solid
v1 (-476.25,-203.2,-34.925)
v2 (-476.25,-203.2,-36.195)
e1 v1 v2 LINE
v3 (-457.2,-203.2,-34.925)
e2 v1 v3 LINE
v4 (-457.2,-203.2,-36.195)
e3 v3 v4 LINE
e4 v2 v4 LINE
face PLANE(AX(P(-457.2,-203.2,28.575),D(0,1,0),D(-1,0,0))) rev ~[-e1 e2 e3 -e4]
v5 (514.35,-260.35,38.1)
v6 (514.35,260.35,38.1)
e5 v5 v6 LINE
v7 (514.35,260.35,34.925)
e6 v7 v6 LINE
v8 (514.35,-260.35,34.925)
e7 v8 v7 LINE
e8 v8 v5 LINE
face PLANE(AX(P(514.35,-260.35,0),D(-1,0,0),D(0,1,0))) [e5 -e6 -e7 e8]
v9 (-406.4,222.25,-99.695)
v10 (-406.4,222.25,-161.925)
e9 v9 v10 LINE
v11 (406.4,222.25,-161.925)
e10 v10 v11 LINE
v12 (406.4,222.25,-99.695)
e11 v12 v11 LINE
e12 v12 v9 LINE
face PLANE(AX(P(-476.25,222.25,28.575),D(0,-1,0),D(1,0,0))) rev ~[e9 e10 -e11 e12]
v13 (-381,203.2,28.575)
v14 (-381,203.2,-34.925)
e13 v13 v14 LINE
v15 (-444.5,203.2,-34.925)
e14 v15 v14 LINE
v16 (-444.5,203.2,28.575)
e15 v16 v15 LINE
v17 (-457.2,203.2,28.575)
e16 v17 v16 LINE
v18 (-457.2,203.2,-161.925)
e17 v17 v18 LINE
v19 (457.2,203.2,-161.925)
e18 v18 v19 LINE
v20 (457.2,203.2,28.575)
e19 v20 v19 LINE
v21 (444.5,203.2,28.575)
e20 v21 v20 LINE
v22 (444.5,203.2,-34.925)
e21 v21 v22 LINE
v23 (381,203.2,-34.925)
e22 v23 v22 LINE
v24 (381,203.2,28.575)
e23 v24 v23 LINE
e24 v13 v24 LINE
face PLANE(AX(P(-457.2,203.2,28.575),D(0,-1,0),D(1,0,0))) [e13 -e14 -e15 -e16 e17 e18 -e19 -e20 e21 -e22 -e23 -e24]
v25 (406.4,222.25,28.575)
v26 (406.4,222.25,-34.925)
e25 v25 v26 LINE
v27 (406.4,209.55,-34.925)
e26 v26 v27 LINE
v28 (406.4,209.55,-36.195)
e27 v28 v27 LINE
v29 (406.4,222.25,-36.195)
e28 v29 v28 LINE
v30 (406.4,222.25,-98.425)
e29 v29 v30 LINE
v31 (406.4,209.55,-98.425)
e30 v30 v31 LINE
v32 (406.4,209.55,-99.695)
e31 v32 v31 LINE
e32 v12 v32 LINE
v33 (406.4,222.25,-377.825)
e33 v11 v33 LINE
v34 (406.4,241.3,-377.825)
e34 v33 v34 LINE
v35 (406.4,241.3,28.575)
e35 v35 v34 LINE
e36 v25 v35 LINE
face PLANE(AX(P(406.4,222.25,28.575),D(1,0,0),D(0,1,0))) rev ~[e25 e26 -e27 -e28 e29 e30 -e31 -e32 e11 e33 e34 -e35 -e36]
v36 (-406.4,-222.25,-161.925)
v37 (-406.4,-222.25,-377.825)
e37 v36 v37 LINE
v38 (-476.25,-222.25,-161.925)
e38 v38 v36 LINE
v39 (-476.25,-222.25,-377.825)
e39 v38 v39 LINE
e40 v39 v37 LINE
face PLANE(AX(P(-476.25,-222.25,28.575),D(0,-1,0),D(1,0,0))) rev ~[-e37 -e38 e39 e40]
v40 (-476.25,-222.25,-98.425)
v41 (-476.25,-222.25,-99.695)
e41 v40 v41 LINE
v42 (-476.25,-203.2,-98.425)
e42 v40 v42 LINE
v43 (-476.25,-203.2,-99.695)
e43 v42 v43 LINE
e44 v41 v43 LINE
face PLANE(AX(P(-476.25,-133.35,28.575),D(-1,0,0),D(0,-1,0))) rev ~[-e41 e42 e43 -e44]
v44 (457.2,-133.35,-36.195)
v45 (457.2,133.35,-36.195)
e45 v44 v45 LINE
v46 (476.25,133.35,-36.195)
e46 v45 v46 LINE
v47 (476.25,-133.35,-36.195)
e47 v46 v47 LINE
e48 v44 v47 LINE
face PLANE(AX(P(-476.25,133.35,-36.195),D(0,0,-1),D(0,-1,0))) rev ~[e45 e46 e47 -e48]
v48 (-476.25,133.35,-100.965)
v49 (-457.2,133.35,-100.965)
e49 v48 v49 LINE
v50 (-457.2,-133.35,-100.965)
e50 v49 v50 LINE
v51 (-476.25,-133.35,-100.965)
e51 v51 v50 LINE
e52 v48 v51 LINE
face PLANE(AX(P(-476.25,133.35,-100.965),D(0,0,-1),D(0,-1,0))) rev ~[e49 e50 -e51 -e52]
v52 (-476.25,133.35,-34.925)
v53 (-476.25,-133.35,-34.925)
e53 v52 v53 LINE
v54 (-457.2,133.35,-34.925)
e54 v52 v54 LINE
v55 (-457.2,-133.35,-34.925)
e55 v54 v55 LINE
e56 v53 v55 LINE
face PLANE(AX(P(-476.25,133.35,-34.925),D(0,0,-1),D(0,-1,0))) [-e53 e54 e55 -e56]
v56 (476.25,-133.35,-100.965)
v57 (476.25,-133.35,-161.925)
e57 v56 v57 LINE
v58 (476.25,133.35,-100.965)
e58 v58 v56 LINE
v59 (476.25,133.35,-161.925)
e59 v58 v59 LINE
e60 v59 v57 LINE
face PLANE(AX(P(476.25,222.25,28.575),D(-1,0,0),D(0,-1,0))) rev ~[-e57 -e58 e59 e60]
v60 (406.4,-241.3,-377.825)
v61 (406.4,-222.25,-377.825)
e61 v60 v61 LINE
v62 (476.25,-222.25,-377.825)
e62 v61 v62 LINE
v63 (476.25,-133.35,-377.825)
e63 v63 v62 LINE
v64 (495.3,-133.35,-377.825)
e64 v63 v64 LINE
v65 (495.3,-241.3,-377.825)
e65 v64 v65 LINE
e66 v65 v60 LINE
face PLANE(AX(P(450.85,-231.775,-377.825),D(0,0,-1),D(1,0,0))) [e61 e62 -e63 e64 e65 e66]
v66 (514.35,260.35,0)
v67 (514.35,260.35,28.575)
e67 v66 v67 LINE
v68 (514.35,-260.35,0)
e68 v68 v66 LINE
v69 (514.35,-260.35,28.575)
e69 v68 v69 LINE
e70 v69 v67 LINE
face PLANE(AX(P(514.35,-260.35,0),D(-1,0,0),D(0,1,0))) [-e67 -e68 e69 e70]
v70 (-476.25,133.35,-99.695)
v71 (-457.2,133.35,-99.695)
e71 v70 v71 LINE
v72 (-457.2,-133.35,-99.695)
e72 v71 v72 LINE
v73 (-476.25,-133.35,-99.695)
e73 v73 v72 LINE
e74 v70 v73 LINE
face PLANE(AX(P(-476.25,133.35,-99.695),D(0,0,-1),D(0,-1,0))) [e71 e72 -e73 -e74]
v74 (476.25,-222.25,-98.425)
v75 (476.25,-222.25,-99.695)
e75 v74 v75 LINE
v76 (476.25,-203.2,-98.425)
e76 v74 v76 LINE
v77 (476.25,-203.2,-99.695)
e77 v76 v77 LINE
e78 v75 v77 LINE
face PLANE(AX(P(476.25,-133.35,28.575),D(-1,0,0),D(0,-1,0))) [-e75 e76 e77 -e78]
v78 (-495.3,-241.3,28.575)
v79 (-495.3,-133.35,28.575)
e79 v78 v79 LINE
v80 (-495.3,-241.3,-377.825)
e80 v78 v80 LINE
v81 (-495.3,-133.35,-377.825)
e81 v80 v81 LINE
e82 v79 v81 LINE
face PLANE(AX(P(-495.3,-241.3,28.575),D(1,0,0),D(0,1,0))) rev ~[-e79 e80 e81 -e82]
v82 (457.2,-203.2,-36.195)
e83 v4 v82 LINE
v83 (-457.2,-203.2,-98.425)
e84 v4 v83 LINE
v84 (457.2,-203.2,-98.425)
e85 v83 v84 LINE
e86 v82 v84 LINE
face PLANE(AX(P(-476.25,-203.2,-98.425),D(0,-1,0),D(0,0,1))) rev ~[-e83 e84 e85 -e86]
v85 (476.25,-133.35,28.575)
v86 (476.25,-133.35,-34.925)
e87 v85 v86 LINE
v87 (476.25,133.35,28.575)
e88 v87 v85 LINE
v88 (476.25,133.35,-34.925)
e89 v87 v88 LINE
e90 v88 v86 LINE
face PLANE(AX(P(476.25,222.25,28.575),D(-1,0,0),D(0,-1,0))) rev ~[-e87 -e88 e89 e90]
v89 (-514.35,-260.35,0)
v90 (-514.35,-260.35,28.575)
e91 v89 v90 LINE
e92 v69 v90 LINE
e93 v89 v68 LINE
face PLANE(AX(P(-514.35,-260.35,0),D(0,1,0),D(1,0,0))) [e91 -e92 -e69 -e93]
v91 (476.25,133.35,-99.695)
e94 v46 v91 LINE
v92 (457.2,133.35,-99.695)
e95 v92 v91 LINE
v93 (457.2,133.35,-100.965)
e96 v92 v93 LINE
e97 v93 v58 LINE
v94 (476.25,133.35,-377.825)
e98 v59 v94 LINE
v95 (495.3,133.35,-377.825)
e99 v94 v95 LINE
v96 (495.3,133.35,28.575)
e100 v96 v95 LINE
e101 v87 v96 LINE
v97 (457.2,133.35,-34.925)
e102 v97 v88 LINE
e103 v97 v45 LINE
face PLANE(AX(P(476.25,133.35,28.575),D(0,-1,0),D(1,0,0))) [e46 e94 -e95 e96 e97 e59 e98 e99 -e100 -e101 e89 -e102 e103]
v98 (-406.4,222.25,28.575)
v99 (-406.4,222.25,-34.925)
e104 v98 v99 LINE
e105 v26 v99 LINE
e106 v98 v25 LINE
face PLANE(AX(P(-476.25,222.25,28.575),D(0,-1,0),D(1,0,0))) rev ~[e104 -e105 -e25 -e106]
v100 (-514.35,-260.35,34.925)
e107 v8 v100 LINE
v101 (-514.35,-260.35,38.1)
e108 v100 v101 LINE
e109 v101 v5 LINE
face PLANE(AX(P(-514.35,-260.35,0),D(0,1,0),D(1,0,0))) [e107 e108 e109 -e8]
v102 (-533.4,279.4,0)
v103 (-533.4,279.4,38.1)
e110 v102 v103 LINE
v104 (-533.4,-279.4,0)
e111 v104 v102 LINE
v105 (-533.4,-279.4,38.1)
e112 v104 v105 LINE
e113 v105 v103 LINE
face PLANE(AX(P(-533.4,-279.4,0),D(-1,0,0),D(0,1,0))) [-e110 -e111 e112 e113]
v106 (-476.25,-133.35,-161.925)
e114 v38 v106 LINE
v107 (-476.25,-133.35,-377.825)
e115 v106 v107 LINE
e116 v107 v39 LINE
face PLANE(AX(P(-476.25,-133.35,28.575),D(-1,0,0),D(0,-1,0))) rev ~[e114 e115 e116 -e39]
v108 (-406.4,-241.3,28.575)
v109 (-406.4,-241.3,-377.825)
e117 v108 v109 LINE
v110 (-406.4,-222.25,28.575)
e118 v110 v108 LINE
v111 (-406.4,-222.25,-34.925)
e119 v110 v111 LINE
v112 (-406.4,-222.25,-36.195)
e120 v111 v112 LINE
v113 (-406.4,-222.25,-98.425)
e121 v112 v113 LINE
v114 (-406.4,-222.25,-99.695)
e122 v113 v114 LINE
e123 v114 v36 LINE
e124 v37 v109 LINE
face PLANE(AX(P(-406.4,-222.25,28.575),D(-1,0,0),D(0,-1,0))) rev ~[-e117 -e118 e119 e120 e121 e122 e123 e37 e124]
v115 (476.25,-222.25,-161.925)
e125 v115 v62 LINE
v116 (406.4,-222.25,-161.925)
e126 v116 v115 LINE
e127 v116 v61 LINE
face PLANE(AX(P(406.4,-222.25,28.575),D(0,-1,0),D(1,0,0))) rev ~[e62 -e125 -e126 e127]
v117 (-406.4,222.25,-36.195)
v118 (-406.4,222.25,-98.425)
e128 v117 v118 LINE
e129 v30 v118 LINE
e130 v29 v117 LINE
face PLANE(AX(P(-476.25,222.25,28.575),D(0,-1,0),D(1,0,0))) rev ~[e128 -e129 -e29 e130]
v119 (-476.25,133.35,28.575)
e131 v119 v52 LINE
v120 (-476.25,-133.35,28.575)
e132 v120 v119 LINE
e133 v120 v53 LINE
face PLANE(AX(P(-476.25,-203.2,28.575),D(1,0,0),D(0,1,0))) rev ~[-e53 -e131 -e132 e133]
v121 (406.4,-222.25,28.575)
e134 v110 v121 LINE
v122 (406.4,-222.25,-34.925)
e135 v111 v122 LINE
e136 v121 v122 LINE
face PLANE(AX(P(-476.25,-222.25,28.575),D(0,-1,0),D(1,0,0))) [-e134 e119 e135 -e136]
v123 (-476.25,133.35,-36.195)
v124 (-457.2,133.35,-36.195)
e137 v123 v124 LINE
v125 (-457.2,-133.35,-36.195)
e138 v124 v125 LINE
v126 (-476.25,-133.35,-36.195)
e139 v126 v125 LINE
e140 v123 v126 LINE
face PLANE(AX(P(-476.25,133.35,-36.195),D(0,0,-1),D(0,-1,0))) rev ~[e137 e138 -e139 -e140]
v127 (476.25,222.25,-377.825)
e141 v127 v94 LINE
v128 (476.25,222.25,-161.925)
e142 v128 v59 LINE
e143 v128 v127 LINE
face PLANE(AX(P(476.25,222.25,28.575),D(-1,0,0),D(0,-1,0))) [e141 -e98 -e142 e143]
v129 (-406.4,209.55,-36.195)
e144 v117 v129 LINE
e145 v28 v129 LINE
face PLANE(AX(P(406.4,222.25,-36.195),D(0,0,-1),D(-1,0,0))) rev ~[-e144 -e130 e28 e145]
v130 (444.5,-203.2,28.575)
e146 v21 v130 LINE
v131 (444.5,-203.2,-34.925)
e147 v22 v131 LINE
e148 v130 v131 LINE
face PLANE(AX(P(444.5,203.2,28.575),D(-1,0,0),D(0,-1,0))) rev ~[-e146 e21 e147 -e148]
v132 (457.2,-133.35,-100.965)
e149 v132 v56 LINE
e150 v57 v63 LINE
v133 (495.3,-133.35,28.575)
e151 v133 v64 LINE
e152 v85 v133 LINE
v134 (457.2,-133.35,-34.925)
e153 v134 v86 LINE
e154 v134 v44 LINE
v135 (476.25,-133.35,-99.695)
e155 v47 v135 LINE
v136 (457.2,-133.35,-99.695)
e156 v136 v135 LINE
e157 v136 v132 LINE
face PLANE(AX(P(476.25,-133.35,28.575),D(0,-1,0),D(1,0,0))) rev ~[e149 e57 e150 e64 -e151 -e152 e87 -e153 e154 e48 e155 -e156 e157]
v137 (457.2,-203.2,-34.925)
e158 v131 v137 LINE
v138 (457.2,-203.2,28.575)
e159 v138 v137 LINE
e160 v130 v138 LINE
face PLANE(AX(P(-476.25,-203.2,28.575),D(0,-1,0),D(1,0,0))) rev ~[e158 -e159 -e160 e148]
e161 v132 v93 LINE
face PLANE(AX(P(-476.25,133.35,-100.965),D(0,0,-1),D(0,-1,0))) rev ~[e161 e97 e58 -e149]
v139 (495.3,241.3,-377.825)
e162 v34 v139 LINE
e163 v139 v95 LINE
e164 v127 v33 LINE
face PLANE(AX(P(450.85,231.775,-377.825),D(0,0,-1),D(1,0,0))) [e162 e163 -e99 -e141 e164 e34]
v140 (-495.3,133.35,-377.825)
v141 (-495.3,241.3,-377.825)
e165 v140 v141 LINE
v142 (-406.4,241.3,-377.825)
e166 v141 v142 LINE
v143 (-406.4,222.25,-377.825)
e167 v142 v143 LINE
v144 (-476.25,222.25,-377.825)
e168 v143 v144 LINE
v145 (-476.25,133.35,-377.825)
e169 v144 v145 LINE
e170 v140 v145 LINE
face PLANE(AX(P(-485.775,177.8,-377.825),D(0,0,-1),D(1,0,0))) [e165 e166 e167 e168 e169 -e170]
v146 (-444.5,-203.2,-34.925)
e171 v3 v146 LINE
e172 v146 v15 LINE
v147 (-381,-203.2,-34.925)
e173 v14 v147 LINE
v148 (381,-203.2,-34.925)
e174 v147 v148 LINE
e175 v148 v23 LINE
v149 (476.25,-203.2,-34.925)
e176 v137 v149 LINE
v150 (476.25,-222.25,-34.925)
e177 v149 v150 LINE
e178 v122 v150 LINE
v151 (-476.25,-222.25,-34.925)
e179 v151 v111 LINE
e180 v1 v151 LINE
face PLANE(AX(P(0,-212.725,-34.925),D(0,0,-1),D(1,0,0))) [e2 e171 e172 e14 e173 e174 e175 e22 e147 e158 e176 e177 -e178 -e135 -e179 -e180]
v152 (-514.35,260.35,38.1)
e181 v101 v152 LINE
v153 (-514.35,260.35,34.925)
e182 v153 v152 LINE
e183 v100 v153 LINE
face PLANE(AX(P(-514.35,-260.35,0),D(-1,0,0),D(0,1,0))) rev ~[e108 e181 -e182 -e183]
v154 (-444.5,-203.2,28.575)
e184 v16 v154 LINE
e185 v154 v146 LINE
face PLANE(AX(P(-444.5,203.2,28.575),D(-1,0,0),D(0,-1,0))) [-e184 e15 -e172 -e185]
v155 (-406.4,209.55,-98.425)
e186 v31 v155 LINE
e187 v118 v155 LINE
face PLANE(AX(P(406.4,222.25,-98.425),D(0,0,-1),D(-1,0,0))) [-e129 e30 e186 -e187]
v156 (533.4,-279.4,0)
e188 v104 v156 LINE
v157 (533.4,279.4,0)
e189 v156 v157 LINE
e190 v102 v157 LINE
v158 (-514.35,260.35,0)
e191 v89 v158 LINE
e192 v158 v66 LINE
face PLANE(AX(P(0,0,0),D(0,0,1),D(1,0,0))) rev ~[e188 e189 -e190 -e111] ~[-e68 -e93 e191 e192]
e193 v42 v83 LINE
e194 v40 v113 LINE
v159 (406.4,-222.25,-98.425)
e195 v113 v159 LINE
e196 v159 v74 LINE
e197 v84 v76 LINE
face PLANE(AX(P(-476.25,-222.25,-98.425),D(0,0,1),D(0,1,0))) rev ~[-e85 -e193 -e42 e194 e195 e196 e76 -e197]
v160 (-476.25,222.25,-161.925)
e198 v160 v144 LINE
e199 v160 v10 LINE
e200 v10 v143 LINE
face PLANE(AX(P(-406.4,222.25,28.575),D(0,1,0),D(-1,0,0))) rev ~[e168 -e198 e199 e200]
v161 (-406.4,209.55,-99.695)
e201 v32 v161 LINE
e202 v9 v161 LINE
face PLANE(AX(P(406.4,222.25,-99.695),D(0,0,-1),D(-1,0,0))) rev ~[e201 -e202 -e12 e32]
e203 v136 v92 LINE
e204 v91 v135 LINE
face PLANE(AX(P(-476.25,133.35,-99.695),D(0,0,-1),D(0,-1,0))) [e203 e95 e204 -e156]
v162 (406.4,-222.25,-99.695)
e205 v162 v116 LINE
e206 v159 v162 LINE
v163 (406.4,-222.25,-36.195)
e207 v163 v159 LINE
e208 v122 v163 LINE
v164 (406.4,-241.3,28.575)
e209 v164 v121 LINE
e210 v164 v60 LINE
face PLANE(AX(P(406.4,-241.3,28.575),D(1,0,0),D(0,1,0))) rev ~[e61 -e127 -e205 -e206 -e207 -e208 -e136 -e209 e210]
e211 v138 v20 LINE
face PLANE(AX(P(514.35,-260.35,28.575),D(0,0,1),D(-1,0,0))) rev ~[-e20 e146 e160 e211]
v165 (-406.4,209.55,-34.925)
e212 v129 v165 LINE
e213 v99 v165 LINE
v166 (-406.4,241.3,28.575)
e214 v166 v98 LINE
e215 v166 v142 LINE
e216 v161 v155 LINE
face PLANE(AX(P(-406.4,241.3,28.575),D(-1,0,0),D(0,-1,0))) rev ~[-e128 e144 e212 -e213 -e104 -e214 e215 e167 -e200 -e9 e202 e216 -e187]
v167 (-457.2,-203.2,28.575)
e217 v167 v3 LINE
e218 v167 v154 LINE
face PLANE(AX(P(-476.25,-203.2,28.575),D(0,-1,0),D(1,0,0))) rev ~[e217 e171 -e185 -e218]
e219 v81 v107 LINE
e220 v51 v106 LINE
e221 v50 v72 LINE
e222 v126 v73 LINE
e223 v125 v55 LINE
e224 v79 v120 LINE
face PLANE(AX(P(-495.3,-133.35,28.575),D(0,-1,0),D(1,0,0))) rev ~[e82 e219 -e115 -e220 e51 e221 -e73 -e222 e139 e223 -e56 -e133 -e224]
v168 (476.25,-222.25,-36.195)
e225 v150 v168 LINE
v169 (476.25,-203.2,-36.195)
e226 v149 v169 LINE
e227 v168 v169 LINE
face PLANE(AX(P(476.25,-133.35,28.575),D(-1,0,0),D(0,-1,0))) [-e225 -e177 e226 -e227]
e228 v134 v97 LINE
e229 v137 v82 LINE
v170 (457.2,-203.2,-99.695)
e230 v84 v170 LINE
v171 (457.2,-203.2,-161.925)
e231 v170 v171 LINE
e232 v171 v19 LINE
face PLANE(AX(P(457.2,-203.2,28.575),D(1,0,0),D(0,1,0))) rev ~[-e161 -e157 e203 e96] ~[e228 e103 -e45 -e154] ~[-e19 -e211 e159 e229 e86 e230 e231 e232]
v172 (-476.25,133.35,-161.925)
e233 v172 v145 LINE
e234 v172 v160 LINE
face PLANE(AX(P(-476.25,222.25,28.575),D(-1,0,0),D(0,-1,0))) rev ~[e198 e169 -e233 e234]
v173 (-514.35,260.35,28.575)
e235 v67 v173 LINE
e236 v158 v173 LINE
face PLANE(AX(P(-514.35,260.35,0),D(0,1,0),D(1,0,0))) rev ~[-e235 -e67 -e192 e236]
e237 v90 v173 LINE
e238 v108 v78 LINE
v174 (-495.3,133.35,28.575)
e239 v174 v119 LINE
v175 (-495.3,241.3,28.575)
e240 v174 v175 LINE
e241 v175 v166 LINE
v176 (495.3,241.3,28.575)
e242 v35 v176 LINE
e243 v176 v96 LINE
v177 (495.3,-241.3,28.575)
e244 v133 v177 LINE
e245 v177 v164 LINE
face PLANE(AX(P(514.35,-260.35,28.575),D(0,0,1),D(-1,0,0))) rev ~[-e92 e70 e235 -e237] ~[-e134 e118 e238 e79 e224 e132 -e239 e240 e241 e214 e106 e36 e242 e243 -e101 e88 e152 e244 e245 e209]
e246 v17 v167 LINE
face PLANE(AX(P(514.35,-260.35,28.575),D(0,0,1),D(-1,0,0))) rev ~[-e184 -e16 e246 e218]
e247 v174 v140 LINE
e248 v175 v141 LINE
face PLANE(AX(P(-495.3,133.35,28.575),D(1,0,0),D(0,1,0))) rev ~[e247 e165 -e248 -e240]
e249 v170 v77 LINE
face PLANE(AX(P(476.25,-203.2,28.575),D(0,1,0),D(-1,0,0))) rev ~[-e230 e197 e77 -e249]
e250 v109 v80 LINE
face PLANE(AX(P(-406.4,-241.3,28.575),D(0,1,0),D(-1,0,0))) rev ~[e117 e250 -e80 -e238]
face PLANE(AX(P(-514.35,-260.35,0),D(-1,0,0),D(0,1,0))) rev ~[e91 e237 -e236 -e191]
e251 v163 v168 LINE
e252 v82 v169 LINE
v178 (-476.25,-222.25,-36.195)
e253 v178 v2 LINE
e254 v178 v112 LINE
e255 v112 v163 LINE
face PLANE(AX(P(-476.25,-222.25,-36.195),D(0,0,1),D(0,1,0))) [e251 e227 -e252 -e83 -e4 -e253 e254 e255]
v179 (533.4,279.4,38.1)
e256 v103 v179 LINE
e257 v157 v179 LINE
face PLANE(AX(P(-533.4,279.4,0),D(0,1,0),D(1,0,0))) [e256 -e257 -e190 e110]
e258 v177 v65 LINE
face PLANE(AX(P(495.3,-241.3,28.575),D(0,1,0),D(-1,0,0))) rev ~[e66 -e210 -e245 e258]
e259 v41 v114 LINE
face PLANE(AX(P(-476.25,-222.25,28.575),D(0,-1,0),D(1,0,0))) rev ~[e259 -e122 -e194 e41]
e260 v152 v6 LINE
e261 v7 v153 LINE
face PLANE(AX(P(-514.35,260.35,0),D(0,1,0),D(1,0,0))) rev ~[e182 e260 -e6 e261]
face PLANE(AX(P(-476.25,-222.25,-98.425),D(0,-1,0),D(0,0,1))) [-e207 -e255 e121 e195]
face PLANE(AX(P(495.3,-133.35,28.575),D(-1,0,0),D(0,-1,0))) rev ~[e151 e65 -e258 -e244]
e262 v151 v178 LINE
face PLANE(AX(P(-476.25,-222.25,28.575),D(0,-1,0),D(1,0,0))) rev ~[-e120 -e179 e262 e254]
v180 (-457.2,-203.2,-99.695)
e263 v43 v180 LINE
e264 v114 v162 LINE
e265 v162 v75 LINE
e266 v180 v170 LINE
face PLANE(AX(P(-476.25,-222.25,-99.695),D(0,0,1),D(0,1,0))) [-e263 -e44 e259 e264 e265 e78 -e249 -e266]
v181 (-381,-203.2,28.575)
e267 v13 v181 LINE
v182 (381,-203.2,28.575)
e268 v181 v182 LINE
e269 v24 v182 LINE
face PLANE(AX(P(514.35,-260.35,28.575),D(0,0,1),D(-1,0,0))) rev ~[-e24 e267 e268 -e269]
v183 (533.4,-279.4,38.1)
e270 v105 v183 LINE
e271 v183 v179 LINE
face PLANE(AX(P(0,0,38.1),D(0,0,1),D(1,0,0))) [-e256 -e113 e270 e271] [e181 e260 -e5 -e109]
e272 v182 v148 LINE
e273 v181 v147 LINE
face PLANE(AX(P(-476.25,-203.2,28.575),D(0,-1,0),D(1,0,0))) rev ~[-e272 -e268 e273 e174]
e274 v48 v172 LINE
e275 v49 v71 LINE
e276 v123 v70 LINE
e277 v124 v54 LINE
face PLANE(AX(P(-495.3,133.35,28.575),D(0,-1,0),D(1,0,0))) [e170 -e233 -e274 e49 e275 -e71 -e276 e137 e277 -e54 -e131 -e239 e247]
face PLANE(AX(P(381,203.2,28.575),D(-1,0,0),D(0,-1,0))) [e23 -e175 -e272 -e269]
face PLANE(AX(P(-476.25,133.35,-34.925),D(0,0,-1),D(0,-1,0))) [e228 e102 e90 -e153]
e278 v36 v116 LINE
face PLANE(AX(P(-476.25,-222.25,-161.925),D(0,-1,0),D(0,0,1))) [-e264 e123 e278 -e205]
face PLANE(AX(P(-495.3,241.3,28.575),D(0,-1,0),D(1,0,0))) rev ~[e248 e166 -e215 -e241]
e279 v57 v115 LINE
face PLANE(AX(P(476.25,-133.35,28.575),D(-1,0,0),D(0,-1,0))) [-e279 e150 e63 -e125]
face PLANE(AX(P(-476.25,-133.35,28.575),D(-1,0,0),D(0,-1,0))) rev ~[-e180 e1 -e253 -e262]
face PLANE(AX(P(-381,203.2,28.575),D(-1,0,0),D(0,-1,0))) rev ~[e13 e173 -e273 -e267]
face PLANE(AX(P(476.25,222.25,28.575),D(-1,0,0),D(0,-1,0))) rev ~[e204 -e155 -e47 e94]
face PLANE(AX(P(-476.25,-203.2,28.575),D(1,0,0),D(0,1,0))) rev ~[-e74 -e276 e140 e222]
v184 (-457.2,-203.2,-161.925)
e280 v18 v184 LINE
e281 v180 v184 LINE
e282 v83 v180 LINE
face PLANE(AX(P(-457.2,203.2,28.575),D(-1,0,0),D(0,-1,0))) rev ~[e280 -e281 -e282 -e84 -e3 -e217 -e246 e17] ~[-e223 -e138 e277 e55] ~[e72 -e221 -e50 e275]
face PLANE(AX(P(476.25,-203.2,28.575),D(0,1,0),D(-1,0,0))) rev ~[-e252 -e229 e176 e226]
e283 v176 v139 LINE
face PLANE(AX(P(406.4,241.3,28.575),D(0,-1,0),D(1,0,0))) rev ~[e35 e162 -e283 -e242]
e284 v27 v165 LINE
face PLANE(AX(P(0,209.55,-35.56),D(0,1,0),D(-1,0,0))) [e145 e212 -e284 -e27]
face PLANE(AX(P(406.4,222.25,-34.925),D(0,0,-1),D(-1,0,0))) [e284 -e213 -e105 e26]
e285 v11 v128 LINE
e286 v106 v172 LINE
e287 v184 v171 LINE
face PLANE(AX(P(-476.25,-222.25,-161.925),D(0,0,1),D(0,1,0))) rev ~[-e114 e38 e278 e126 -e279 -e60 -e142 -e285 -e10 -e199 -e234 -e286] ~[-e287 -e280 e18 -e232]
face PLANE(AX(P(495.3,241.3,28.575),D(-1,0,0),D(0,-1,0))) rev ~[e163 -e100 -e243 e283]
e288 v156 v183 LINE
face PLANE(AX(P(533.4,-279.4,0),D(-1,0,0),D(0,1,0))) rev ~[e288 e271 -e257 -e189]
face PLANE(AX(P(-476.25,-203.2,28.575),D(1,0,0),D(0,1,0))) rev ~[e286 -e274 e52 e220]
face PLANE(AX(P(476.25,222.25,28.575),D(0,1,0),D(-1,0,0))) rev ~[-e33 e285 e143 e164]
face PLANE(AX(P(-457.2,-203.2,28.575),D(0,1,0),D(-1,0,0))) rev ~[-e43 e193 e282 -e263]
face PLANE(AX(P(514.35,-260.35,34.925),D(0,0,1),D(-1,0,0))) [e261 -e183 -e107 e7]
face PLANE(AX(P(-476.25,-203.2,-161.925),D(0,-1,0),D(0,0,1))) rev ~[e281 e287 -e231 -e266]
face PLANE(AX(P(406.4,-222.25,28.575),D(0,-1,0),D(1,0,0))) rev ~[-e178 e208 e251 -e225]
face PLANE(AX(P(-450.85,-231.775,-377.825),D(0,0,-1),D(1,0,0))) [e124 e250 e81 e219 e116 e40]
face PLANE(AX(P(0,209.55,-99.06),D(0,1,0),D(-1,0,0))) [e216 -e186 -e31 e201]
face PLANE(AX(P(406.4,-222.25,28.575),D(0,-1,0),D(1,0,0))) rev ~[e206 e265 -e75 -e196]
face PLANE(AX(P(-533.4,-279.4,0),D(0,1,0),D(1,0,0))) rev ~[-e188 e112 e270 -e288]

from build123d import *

# Parameters (mm, degrees)
F0_W      = 1066.8
F0_H      = 558.8
F0_W_2    = 1028.7
F0_H_2    = 520.7
F1_DEPTH  = 38.1
F2_W      = 1028.7
F2_H      = 6.35
F3_DEPTH  = 520.7
F4_W      = 952.5
F4_H      = 19.05
F5_DEPTH  = 63.5
F6_W      = 63.5
F6_H      = 406.4
F7_DEPTH  = 63.5
F8_W      = 19.05
F8_H      = 88.9
F9_DEPTH  = 406.4
F10_W     = 914.4
F10_H     = 19.05
F11_DEPTH = 190.5
F12_W     = 812.8
F12_H     = 1.27
F13_DEPTH = 12.7
F14_W     = 266.7
F14_H     = 1.27
F15_DEPTH = 952.5
F16_W     = 19.05
F16_H     = 62.23
F17_DEPTH = 952.5


with BuildPart() as f1:
    # F0 (on Top) → F1 (new body)
    with BuildSketch(Plane.XY):
        Rectangle(F0_W, F0_H)
        Rectangle(F0_W_2, F0_H_2, mode=Mode.SUBTRACT)
    extrude(amount=F1_DEPTH)

    # F2 (on face) → F3 (join)
    with BuildSketch(Plane(origin=(0, -260.35, 0), x_dir=(-1, 0, 0), z_dir=(0, 1, 0))):
        with Locations((0, 31.75)):
            Rectangle(F2_W, F2_H)
    extrude(amount=F3_DEPTH)

    # F4 (on face) → F5 (join)
    with BuildSketch(Plane(origin=(0, 0, 28.575), x_dir=(1, 0, 0), z_dir=(0, 0, -1))):
        with Locations((0, 212.725)):
            Rectangle(F4_W, F4_H)
    extrude(amount=F5_DEPTH)

    # F6 (on face) → F7 (join)
    with BuildSketch(Plane(origin=(0, 0, 28.575), x_dir=(1, 0, 0), z_dir=(0, 0, -1))):
        with Locations((-412.75, 0)):
            Rectangle(F6_W, F6_H)
        with Locations((412.75, 0)):
            Rectangle(F6_W, F6_H)
    extrude(amount=F7_DEPTH)

    # F8 (on face) → F9 (join)
    with BuildSketch(Plane(origin=(0, 0, 28.575), x_dir=(1, 0, 0), z_dir=(0, 0, -1))):
        Polygon((-406.4, 241.3), (-495.3, 241.3), (-495.3, 222.25), (-476.25, 222.25), (-406.4, 222.25), align=None)
        with Locations((-485.775, 177.8)):
            Rectangle(F8_W, F8_H)
        with Locations((-485.775, -177.8)):
            Rectangle(F8_W, F8_H)
        Polygon((-476.25, -222.25), (-495.3, -222.25), (-495.3, -241.3), (-406.4, -241.3), (-406.4, -222.25), align=None)
        Polygon((476.25, -222.25), (406.4, -222.25), (406.4, -241.3), (495.3, -241.3), (495.3, -222.25), align=None)
        with Locations((485.775, -177.8)):
            Rectangle(F8_W, F8_H)
        Polygon((495.3, 241.3), (406.4, 241.3), (406.4, 222.25), (476.25, 222.25), (495.3, 222.25), align=None)
        with Locations((485.775, 177.8)):
            Rectangle(F8_W, F8_H)
    extrude(amount=F9_DEPTH)

    # F10 (on face) → F11 (join)
    with BuildSketch(Plane(origin=(0, 0, 28.575), x_dir=(1, 0, 0), z_dir=(0, 0, -1))):
        Polygon((476.25, -222.25), (476.25, 203.2), (457.2, 203.2), (457.2, -203.2), (457.2, -222.25), align=None)
        with Locations((0, -212.725)):
            Rectangle(F10_W, F10_H)
        Polygon((-457.2, -222.25), (-457.2, -203.2), (-457.2, 203.2), (-476.25, 203.2), (-476.25, -222.25), align=None)
    extrude(amount=F11_DEPTH)

    # F12 (on face) → F13 (cut)
    with BuildSketch(Plane(origin=(0, 222.25, 0), x_dir=(-1, 0, 0), z_dir=(0, 1, 0))):
        with Locations((0, -35.56)):
            Rectangle(F12_W, F12_H)
        with Locations((0, -99.06)):
            Rectangle(F12_W, F12_H)
    extrude(amount=-F13_DEPTH, mode=Mode.SUBTRACT)

    # F14 (on face) → F15 (cut)
    with BuildSketch(Plane(origin=(-476.25, 0, 0), x_dir=(0, -1, 0), z_dir=(-1, 0, 0))):
        with Locations((0, -35.56)):
            Rectangle(F14_W, F14_H)
        with Locations((0, -100.33)):
            Rectangle(F14_W, F14_H)
    extrude(amount=-F15_DEPTH, mode=Mode.SUBTRACT)

    # F16 (on face) → F17 (join)
    with BuildSketch(Plane.YZ.offset(-476.25)):
        with Locations((-212.725, -130.81)):
            Rectangle(F16_W, F16_H)
        with Locations((-212.725, -67.31)):
            Rectangle(F16_W, F16_H)
    extrude(amount=F17_DEPTH)


solid = f1.part
